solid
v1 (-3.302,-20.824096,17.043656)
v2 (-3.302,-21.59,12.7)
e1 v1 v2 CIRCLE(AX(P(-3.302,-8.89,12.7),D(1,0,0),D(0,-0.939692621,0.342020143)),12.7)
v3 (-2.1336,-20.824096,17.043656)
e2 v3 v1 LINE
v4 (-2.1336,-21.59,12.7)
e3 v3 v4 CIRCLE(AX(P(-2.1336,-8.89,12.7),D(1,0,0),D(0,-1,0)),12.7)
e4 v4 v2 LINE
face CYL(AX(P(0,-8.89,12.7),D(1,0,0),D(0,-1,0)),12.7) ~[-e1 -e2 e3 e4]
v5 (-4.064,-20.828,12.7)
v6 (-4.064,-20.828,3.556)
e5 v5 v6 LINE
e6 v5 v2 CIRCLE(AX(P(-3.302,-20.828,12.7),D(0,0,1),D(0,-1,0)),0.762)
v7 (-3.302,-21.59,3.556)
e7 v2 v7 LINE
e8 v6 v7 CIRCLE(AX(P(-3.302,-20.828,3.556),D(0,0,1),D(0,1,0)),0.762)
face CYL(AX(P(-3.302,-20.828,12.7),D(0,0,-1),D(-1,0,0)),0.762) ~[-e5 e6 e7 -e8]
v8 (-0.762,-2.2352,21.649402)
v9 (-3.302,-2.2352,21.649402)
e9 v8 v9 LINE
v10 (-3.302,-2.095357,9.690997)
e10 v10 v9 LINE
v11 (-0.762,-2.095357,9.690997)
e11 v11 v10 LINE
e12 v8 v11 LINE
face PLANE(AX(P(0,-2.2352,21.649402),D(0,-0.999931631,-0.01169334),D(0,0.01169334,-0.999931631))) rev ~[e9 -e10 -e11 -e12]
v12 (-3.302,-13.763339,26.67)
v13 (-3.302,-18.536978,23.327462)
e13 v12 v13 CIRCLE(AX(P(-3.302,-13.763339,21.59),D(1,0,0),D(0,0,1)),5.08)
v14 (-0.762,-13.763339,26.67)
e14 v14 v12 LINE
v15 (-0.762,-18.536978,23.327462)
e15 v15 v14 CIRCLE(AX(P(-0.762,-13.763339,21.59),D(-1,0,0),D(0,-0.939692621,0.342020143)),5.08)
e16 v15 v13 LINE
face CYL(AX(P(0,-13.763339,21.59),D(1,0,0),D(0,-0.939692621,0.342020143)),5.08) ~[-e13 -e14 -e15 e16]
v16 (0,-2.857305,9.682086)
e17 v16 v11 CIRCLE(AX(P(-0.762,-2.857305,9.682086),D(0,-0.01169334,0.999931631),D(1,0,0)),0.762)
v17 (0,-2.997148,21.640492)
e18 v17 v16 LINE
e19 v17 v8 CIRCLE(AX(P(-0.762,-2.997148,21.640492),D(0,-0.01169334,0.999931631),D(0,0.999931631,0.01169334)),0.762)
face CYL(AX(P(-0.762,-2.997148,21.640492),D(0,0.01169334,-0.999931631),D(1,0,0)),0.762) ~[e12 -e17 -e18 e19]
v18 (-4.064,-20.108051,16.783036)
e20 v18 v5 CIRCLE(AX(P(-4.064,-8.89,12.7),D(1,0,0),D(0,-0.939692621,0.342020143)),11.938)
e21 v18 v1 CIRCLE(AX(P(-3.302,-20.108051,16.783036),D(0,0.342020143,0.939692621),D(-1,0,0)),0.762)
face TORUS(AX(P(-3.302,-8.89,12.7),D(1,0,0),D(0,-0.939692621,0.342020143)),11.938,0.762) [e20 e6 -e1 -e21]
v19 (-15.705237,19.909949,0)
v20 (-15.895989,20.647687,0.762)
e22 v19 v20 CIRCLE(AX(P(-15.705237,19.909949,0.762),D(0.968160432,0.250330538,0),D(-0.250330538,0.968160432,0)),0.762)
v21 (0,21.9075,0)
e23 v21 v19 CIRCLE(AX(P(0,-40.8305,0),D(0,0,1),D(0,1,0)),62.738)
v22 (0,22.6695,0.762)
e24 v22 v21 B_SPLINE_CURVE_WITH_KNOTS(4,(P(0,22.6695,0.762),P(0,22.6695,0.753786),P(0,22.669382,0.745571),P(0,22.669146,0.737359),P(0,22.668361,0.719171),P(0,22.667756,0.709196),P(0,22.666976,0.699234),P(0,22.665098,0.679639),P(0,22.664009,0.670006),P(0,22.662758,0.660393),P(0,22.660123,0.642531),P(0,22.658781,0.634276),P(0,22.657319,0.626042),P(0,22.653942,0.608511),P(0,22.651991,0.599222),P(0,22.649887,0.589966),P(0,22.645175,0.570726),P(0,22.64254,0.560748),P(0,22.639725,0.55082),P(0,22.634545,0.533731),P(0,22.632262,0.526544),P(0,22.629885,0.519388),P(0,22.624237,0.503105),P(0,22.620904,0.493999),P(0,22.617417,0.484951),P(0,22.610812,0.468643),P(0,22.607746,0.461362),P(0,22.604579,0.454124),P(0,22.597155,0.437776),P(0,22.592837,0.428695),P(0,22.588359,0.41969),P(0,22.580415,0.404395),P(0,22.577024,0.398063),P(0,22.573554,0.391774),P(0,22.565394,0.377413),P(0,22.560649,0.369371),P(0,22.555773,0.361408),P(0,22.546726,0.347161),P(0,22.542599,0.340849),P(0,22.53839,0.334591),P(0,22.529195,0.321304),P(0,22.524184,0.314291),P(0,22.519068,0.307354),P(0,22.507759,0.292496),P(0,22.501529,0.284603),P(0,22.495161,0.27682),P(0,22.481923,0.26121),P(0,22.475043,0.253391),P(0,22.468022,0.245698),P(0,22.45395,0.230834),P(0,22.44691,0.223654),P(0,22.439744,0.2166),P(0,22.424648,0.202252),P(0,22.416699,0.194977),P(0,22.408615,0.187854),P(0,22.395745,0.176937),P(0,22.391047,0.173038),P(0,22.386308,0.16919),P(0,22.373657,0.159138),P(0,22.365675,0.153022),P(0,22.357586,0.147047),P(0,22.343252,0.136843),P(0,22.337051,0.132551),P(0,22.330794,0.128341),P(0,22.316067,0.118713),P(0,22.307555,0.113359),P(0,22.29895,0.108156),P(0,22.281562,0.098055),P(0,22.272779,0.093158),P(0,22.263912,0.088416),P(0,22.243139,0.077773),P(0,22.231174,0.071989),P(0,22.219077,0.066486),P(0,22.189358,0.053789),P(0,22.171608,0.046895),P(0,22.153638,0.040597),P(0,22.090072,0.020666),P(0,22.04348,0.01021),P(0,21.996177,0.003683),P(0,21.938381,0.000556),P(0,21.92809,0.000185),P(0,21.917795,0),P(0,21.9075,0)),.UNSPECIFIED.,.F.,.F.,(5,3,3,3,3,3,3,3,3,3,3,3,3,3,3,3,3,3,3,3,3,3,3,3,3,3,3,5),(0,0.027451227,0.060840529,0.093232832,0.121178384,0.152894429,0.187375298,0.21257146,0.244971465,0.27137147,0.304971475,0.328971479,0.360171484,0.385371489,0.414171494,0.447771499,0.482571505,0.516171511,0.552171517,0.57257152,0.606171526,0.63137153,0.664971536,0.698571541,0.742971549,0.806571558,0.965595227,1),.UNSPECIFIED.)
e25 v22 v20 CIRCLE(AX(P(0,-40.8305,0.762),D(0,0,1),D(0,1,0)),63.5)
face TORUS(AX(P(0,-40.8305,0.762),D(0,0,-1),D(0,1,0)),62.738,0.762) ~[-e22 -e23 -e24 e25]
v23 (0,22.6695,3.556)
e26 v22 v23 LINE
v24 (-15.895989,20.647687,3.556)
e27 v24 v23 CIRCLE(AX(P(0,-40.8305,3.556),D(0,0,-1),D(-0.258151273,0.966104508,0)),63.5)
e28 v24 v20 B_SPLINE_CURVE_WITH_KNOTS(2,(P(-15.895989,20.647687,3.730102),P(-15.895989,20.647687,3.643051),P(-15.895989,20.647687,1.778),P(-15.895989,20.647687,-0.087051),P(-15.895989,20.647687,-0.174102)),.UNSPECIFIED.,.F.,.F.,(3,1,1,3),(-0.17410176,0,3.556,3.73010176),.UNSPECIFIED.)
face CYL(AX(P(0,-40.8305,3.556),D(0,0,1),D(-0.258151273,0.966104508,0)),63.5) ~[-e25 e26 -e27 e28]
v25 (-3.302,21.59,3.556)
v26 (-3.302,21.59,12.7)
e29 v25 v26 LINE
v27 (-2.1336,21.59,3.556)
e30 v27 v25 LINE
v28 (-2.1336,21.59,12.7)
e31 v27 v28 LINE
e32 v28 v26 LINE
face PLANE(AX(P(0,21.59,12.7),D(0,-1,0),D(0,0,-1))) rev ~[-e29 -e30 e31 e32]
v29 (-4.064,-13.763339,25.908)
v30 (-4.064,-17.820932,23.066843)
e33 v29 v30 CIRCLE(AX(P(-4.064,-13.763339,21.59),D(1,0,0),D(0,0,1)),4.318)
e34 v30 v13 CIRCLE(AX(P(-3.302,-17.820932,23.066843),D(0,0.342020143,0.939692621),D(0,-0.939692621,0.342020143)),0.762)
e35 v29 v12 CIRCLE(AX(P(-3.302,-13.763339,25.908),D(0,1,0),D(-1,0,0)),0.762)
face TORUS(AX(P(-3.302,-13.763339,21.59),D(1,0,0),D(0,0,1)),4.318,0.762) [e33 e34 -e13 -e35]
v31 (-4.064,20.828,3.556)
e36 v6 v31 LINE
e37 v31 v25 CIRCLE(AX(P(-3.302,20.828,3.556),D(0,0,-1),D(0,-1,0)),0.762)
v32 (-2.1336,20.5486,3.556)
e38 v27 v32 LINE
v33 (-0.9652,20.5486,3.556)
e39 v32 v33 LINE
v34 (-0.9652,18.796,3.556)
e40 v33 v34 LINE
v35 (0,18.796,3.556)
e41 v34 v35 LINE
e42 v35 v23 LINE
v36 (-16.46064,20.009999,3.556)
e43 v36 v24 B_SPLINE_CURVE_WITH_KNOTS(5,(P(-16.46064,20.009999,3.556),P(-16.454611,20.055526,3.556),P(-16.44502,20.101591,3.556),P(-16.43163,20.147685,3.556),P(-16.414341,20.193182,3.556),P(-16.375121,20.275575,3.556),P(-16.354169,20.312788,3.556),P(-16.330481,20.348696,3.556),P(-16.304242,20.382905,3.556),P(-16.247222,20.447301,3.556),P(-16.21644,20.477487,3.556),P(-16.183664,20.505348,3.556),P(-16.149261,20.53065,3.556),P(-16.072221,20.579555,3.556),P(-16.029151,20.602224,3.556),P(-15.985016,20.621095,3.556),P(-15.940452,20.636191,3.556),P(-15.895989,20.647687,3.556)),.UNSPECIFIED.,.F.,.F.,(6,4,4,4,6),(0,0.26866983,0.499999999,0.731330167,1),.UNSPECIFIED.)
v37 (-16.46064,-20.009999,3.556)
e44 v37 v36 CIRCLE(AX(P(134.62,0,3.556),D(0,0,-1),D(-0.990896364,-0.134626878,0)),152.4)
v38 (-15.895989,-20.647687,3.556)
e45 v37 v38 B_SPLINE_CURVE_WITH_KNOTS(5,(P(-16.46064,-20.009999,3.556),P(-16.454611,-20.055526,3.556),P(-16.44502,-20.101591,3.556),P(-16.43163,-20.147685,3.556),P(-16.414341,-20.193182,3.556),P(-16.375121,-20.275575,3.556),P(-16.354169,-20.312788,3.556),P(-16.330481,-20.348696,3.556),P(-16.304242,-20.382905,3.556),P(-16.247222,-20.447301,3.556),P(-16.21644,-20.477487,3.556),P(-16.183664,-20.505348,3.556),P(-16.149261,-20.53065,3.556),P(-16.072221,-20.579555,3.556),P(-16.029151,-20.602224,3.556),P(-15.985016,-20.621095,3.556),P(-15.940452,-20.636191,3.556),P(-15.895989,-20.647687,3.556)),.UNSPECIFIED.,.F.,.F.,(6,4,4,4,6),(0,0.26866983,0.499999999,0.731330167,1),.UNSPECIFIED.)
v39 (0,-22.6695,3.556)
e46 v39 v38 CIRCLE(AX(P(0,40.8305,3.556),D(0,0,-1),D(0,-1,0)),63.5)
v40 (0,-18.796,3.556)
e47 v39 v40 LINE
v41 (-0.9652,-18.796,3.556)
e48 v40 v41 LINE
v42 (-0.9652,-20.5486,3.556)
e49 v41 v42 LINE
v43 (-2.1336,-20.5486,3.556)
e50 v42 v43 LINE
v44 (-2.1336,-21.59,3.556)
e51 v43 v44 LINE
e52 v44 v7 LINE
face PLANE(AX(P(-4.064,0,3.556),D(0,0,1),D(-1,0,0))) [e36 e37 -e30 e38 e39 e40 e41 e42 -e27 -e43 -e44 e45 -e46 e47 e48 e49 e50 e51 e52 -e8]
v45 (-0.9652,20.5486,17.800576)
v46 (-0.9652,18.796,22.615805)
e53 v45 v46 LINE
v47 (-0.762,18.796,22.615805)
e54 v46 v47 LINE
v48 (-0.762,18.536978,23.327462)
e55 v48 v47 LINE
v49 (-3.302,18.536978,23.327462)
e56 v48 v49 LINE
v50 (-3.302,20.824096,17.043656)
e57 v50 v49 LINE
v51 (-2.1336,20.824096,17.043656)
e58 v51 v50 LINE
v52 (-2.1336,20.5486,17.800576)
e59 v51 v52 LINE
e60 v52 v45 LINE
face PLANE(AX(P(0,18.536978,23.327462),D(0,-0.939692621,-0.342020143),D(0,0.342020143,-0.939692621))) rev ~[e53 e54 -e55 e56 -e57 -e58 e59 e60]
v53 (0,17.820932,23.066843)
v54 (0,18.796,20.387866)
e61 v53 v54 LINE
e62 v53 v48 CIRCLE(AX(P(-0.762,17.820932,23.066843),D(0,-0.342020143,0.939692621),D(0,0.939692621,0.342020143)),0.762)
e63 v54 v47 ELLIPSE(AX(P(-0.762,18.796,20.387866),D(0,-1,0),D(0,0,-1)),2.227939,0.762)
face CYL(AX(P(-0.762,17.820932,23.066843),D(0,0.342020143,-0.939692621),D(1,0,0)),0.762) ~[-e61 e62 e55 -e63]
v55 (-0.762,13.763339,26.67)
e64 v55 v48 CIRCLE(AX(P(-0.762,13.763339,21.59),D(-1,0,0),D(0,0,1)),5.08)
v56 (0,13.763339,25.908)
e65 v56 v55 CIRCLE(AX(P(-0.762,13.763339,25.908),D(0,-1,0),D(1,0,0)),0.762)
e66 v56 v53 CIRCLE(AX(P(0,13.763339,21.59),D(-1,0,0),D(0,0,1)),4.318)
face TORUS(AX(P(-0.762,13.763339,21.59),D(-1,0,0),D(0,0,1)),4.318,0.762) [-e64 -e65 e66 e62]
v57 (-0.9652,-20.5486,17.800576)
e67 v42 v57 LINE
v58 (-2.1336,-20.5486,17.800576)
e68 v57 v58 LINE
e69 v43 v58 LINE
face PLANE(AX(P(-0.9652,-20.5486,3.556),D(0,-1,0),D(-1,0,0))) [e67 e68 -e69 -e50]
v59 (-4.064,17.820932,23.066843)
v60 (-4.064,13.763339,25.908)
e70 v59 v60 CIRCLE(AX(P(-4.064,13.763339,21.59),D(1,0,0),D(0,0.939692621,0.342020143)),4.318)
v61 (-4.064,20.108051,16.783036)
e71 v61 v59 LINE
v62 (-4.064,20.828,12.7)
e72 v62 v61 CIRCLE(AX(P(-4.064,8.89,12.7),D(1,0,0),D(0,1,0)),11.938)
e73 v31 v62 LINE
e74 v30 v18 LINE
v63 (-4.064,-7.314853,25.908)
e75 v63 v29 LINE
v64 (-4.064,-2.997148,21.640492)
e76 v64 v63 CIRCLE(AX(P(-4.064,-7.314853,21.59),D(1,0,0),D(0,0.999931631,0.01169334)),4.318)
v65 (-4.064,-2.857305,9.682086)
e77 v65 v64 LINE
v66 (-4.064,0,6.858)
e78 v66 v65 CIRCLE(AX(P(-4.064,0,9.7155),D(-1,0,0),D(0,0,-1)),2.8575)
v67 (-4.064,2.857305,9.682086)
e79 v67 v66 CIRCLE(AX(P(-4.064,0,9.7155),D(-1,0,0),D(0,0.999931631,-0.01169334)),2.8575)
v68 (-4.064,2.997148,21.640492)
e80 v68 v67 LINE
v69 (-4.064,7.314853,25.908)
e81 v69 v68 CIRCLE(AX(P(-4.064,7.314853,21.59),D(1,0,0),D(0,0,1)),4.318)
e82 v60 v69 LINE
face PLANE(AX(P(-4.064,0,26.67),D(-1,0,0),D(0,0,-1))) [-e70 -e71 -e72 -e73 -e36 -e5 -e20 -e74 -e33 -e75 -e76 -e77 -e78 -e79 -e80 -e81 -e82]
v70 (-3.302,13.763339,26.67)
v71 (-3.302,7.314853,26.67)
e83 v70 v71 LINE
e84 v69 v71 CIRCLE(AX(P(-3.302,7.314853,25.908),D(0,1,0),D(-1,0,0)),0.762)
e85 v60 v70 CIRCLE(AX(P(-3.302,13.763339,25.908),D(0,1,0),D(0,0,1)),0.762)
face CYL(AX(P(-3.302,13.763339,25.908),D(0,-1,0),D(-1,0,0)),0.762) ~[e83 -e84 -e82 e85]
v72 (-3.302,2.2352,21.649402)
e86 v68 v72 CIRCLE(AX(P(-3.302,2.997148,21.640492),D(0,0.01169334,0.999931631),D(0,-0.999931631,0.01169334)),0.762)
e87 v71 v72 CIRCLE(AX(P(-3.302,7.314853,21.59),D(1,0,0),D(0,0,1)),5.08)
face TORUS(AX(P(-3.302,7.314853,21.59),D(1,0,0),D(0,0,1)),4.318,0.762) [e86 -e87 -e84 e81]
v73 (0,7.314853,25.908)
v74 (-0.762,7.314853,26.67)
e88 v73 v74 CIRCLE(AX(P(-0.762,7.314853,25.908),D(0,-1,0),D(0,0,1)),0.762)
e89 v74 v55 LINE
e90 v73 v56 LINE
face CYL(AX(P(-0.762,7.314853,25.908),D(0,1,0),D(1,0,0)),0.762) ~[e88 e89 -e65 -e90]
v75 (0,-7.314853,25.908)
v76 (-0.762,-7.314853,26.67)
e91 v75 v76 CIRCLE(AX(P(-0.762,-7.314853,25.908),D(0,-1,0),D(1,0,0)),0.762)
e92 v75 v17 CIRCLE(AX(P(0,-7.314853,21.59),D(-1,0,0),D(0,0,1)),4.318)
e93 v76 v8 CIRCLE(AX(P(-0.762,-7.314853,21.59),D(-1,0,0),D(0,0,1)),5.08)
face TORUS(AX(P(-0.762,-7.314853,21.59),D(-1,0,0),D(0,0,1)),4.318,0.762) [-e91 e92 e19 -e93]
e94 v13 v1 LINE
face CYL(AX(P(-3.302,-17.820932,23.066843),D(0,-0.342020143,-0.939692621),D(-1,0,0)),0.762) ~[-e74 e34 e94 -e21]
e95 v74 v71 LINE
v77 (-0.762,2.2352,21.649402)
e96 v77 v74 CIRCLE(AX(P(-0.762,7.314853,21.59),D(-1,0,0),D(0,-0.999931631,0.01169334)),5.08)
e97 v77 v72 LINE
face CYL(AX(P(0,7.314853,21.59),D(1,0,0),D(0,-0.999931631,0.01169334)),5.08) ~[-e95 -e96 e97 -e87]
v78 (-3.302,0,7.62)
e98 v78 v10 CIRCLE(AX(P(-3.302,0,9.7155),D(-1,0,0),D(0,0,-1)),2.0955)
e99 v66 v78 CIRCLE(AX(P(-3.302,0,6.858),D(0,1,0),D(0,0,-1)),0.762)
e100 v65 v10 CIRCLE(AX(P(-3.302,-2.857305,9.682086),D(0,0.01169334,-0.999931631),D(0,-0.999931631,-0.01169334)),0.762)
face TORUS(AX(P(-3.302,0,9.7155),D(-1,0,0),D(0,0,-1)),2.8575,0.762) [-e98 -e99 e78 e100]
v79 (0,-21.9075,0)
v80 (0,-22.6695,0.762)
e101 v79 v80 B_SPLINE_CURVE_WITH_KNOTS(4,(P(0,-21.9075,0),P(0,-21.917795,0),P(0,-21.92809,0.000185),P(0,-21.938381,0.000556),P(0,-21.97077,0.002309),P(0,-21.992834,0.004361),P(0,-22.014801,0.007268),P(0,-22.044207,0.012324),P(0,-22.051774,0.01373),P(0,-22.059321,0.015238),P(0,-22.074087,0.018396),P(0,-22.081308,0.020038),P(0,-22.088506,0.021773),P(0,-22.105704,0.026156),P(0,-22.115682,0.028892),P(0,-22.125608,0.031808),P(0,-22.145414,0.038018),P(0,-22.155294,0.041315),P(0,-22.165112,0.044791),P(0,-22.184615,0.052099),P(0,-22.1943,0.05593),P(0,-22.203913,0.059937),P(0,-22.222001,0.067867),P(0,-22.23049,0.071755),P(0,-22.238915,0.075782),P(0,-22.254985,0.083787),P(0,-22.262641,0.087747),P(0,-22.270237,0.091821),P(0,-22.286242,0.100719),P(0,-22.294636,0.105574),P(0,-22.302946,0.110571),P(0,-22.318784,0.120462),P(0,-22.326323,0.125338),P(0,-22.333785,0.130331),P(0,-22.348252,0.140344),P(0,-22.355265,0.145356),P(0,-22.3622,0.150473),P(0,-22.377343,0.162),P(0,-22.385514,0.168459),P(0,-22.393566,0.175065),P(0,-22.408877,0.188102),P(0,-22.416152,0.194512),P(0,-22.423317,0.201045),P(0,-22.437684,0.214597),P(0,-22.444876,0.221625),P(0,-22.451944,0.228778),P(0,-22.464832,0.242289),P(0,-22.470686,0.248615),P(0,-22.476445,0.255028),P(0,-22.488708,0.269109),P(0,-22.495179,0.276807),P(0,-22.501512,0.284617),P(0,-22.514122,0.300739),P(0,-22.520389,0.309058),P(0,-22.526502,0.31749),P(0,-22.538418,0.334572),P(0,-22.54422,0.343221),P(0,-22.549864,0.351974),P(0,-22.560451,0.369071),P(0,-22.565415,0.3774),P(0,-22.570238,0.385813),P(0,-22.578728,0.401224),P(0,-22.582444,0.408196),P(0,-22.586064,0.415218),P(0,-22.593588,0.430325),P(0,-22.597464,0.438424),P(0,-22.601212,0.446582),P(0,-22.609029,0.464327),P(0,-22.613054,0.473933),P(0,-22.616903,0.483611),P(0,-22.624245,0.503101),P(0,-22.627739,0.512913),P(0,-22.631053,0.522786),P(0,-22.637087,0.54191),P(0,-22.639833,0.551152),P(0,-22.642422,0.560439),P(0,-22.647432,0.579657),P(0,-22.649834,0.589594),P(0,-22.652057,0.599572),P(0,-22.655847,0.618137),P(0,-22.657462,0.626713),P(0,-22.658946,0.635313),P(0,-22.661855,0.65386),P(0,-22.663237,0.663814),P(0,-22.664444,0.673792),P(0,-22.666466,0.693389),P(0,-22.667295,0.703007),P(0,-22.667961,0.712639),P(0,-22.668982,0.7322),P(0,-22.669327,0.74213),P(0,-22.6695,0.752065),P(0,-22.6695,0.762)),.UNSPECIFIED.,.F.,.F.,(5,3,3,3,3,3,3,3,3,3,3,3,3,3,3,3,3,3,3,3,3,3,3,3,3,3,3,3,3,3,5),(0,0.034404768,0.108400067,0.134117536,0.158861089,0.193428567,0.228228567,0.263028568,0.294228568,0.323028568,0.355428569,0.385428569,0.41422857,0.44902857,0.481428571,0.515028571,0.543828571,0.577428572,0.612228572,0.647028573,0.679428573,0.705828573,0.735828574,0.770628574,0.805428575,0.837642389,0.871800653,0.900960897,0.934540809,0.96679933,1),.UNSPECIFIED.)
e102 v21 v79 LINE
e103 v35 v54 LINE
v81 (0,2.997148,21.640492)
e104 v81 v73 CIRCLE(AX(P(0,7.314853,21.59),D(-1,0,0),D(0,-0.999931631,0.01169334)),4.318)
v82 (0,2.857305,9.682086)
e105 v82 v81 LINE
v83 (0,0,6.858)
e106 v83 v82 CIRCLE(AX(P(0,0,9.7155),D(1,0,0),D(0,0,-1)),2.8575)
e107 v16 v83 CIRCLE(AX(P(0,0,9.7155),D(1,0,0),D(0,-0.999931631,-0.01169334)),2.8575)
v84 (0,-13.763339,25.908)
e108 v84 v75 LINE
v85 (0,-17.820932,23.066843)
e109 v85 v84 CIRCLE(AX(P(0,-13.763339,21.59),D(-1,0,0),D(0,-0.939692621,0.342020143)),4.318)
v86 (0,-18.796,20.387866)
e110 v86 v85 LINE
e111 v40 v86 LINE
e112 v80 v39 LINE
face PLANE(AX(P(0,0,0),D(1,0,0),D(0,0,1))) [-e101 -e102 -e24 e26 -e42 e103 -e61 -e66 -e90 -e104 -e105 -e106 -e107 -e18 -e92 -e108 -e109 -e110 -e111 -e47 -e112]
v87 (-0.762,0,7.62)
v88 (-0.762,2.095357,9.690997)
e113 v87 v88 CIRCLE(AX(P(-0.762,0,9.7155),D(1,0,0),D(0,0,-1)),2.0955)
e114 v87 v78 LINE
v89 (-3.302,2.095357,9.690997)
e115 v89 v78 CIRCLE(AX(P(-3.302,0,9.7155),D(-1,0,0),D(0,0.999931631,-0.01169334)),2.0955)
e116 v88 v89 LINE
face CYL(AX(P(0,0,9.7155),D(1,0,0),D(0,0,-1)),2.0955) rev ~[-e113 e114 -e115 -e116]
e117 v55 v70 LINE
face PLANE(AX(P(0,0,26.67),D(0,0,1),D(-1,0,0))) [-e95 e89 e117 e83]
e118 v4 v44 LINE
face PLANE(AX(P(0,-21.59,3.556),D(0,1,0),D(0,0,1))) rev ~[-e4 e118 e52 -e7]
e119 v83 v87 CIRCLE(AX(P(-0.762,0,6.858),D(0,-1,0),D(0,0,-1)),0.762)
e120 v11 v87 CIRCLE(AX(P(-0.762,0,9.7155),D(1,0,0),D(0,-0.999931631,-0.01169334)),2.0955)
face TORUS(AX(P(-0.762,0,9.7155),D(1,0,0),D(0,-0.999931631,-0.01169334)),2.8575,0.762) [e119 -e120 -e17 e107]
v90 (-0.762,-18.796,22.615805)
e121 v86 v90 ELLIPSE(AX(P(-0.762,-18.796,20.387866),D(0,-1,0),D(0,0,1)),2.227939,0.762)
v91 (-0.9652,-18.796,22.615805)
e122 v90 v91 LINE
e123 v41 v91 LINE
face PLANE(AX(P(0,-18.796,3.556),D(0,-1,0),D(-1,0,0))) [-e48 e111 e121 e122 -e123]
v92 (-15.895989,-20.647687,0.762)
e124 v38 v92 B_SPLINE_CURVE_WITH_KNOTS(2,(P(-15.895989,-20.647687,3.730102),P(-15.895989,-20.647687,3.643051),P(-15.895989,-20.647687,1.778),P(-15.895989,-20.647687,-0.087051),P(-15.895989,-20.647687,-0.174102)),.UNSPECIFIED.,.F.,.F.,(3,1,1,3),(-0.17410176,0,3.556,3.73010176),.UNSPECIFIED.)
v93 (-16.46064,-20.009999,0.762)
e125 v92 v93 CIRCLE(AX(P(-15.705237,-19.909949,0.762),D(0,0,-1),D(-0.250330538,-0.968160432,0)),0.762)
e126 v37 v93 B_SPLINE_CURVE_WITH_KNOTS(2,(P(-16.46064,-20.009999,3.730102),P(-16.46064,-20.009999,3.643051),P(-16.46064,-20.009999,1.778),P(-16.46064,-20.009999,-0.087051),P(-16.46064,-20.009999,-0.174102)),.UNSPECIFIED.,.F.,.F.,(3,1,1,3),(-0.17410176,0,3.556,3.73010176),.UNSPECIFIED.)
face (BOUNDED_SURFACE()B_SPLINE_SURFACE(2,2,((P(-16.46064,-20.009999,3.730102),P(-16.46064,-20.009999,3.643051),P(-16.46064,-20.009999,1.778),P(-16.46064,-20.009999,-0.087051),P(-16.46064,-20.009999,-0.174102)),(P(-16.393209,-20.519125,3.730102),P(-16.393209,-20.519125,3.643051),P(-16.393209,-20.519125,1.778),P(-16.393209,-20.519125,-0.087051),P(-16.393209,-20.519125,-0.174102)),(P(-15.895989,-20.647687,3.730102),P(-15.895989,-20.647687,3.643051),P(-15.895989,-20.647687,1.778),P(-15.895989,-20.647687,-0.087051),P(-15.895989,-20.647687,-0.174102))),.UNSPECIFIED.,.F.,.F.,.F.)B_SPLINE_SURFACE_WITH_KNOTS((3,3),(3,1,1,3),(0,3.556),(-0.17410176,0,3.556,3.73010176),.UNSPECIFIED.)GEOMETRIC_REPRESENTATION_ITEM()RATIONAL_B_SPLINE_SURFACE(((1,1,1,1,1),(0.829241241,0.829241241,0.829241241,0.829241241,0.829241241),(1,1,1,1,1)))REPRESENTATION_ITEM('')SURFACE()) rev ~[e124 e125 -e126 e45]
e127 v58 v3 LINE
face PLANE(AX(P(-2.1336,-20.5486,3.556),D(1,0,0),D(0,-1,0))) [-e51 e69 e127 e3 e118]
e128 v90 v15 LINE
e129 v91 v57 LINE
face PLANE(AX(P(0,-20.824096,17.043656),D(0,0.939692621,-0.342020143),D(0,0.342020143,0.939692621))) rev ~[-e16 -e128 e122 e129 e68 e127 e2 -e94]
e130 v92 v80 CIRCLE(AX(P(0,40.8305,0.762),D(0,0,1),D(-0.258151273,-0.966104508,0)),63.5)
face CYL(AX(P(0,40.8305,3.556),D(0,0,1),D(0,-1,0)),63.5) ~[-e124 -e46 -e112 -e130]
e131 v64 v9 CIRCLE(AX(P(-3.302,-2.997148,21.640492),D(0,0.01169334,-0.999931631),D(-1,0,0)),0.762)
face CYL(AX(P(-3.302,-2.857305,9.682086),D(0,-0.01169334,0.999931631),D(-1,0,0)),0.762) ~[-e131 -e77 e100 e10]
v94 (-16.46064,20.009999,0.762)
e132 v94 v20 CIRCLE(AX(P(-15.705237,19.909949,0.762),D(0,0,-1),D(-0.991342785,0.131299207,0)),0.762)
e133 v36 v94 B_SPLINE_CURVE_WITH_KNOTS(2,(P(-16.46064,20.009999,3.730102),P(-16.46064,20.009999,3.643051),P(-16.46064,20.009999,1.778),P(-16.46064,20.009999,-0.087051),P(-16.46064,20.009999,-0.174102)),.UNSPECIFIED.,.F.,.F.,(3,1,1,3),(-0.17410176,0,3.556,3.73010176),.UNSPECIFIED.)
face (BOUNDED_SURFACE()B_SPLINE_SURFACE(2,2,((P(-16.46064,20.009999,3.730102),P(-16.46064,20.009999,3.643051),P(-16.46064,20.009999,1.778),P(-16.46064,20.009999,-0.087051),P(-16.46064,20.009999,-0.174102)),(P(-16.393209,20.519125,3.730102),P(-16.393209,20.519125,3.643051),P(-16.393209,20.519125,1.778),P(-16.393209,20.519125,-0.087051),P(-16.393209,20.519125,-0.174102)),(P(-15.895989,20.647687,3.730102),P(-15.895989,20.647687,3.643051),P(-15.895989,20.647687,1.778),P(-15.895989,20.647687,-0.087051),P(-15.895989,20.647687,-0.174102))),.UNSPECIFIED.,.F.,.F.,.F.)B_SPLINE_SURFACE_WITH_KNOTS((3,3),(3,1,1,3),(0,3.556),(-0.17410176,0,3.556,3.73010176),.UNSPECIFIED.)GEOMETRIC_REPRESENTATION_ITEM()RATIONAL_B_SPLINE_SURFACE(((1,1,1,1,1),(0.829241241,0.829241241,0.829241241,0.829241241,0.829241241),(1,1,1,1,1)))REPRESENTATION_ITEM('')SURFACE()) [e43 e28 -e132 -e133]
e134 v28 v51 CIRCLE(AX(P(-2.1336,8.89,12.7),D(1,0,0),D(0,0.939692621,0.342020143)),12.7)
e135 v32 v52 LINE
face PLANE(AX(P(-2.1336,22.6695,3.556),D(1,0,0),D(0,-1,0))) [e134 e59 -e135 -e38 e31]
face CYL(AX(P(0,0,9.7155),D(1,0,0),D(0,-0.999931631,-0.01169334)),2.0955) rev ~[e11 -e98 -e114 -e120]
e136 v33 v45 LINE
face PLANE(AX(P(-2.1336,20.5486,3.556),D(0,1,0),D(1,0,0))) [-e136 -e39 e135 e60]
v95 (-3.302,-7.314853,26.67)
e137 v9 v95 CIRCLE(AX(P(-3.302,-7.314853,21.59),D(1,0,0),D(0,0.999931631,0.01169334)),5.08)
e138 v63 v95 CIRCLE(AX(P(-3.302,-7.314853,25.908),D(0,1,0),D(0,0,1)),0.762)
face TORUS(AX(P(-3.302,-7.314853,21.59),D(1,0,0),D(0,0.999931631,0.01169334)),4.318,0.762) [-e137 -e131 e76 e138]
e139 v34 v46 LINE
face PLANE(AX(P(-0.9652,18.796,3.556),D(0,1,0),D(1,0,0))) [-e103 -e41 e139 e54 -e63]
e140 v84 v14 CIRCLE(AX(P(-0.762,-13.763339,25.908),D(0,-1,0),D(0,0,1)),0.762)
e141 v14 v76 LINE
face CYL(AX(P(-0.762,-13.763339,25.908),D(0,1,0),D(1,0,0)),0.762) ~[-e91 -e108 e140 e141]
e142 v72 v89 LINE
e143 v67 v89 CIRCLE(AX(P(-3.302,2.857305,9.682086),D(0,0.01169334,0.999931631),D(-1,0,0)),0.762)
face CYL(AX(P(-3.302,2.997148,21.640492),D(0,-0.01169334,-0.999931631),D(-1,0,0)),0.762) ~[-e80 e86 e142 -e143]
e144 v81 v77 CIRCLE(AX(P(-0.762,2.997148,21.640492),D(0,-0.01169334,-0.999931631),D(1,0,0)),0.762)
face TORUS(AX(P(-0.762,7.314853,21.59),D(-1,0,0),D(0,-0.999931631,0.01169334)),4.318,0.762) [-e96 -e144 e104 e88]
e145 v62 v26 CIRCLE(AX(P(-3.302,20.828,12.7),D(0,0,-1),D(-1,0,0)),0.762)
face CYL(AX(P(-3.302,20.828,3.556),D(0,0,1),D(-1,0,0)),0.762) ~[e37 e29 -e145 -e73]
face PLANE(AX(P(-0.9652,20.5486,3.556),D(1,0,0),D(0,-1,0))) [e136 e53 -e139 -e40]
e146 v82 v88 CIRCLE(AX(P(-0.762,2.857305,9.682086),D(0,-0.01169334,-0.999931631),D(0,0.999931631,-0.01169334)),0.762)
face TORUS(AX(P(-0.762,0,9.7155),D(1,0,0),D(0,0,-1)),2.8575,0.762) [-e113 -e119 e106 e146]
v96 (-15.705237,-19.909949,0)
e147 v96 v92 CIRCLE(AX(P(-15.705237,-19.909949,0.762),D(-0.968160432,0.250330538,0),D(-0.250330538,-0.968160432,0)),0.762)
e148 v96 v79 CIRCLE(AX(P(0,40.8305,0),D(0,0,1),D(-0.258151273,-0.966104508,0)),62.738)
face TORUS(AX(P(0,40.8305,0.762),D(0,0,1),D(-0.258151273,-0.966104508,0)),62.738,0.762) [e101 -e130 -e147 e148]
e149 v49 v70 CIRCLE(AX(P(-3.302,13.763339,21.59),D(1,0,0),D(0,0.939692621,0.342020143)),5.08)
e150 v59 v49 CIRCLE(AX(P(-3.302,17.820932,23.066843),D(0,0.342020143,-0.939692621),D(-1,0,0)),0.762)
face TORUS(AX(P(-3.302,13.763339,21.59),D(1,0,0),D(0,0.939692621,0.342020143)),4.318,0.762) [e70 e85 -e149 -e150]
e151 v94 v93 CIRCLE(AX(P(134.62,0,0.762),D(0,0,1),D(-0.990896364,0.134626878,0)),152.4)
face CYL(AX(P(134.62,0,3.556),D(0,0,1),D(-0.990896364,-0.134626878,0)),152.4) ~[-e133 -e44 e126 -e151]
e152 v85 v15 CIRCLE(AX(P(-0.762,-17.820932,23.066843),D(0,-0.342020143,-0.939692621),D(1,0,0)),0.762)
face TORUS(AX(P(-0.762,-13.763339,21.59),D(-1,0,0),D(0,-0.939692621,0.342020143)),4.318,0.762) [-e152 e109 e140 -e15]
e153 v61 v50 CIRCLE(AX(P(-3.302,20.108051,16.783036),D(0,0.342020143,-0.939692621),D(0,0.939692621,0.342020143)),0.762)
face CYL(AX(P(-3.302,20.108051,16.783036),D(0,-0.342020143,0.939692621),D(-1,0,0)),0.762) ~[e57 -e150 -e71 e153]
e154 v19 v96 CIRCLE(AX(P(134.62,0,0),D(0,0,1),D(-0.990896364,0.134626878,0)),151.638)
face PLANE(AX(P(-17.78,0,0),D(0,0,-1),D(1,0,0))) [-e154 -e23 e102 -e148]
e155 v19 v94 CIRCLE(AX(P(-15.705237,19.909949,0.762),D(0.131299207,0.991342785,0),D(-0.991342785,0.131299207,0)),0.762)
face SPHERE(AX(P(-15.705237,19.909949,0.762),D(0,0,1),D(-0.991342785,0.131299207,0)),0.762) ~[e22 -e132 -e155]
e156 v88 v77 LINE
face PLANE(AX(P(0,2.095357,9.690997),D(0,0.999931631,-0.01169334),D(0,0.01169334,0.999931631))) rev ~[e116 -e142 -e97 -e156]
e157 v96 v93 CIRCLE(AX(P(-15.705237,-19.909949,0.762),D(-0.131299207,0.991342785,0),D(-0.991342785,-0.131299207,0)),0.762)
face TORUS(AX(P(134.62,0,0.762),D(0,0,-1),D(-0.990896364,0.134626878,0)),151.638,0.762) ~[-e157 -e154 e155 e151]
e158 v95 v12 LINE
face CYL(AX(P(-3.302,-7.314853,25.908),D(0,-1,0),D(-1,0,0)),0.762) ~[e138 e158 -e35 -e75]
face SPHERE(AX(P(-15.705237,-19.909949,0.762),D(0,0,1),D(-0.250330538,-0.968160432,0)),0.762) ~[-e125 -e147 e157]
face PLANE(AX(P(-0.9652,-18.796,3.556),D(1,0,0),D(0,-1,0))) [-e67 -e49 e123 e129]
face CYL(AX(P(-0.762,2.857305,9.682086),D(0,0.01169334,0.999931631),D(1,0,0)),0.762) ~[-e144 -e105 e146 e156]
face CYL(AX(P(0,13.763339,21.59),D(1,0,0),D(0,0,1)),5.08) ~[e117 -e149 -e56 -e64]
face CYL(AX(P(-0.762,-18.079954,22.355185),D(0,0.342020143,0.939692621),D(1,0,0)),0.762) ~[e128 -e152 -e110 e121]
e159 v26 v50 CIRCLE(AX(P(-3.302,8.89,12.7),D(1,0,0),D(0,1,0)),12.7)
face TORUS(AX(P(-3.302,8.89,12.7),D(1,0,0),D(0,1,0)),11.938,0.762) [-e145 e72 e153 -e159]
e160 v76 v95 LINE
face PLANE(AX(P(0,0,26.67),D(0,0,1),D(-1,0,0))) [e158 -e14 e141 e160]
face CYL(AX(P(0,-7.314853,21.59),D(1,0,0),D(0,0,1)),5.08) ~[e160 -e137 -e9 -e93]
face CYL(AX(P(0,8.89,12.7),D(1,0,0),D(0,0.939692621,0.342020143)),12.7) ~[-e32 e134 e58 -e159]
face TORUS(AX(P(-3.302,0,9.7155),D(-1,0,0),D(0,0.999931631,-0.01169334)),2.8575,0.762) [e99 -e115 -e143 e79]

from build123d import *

# Parameters (mm, degrees)
F1_DEPTH      = 22.6695
F1_DEPTH_BACK = 22.6695
F3_DEPTH      = 25.4
F5_DEPTH      = 25.4
F7_DEPTH      = 25.4
F8_R          = 0.762


with BuildPart() as f1:
    # F0 (on Front) → F1 (new body, two sides)
    with BuildSketch(Plane.XZ) as f1_sk:
        Polygon((-17.78, 3.556), (-17.78, 0), (0, 0), (0, 26.67), (-4.064, 26.67), (-4.064, 3.556), align=None)
    extrude(amount=F1_DEPTH)
    extrude(f1_sk.sketch, amount=-F1_DEPTH_BACK)

    # F2 (on face) → F3 (cut)
    with BuildSketch(Plane.YZ):
        with BuildLine():
            Line((21.59, 3.556), (22.6695, 3.556))
            Line((22.6695, 3.556), (22.6695, 27.94))
            Line((22.6695, 27.94), (0, 27.94))
            Line((0, 27.94), (-22.6695, 27.94))
            Line((-22.6695, 27.94), (-22.6695, 3.556))
            Line((-22.6695, 3.556), (-21.59, 3.556))
            Line((-21.59, 3.556), (-21.59, 12.7))
            ThreePointArc((-21.59, 12.7), (-21.3970584633, 14.9053318564), (-20.824096284, 17.0436558202))
            Line((-20.824096284, 17.0436558202), (-18.5369777572, 23.3274623281))
            ThreePointArc((-18.5369777572, 23.3274623281), (-16.6771075403, 25.751292385), (-13.7633392436, 26.67))
            Line((-13.7633392436, 26.67), (-7.3148526832, 26.67))
            ThreePointArc((-7.3148526832, 26.67), (-3.7438138302, 25.2030432478), (-2.2352, 21.6494021693))
            Line((-2.2352, 21.6494021693), (-2.0953567318, 9.6909966051))
            ThreePointArc((-2.0953567318, 9.6909966051), (-1.4730535269, 8.2251196603), (0, 7.62))
            ThreePointArc((0, 7.62), (1.4730535269, 8.2251196603), (2.0953567318, 9.6909966051))
            Line((2.0953567318, 9.6909966051), (2.2352, 21.6494021693))
            ThreePointArc((2.2352, 21.6494021693), (3.7438138302, 25.2030432478), (7.3148526832, 26.67))
            Line((7.3148526832, 26.67), (13.7633392436, 26.67))
            ThreePointArc((13.7633392436, 26.67), (16.6771075403, 25.751292385), (18.5369777572, 23.3274623281))
            Line((18.5369777572, 23.3274623281), (20.824096284, 17.0436558202))
            ThreePointArc((20.824096284, 17.0436558202), (21.3970584633, 14.9053318564), (21.59, 12.7))
            Line((21.59, 12.7), (21.59, 3.556))
        make_face()
    extrude(amount=-F3_DEPTH, mode=Mode.SUBTRACT)

    # F4 (on face) → F5 (cut)
    with BuildSketch(Plane.XY.offset(3.556)):
        Polygon((0, 22.6695), (-2.1336, 22.6695), (-2.1336, 20.5486), (-0.9652, 20.5486), (-0.9652, 18.796), (0, 18.796), align=None)
        Polygon((-2.1336, -20.5486), (-2.1336, -22.6695), (0, -22.6695), (0, -18.796), (-0.9652, -18.796), (-0.9652, -20.5486), align=None)
    extrude(amount=F5_DEPTH, mode=Mode.SUBTRACT)

    # F6 (on face) → F7 (cut)
    with BuildSketch(Plane.XY.offset(3.556)):
        with BuildLine():
            ThreePointArc((-16.3926058311, 20.5171362549), (-8.2666528236, 22.1291096803), (0, 22.6695))
            Line((0, 22.6695), (0, 25.4))
            Line((0, 25.4), (-25.4, 25.4))
            Line((-25.4, 25.4), (-25.4, -25.4))
            Line((-25.4, -25.4), (0, -25.4))
            Line((0, -25.4), (0, -22.6695))
            ThreePointArc((0, -22.6695), (-8.2666528236, -22.1291096803), (-16.3926058311, -20.5171362549))
            ThreePointArc((-16.3926058311, -20.5171362549), (-17.78, 0), (-16.3926058311, 20.5171362549))
        make_face()
    extrude(amount=-F7_DEPTH, mode=Mode.SUBTRACT)

    # F8
    f8_edges = [f1.edges().sort_by_distance(p)[0] for p in [
        (-8.266653, -22.12911, 0),
        (-17.78, 0, 0),
        (-8.266653, 22.12911, 0),
        (-16.392606, -20.517136, 1.778),
        (-16.392606, 20.517136, 1.778),
        (-4.064, 21.59, 8.128),
        (0, 0, 7.62),
    ]]
    fillet(f8_edges, radius=F8_R)


solid = f1.part
